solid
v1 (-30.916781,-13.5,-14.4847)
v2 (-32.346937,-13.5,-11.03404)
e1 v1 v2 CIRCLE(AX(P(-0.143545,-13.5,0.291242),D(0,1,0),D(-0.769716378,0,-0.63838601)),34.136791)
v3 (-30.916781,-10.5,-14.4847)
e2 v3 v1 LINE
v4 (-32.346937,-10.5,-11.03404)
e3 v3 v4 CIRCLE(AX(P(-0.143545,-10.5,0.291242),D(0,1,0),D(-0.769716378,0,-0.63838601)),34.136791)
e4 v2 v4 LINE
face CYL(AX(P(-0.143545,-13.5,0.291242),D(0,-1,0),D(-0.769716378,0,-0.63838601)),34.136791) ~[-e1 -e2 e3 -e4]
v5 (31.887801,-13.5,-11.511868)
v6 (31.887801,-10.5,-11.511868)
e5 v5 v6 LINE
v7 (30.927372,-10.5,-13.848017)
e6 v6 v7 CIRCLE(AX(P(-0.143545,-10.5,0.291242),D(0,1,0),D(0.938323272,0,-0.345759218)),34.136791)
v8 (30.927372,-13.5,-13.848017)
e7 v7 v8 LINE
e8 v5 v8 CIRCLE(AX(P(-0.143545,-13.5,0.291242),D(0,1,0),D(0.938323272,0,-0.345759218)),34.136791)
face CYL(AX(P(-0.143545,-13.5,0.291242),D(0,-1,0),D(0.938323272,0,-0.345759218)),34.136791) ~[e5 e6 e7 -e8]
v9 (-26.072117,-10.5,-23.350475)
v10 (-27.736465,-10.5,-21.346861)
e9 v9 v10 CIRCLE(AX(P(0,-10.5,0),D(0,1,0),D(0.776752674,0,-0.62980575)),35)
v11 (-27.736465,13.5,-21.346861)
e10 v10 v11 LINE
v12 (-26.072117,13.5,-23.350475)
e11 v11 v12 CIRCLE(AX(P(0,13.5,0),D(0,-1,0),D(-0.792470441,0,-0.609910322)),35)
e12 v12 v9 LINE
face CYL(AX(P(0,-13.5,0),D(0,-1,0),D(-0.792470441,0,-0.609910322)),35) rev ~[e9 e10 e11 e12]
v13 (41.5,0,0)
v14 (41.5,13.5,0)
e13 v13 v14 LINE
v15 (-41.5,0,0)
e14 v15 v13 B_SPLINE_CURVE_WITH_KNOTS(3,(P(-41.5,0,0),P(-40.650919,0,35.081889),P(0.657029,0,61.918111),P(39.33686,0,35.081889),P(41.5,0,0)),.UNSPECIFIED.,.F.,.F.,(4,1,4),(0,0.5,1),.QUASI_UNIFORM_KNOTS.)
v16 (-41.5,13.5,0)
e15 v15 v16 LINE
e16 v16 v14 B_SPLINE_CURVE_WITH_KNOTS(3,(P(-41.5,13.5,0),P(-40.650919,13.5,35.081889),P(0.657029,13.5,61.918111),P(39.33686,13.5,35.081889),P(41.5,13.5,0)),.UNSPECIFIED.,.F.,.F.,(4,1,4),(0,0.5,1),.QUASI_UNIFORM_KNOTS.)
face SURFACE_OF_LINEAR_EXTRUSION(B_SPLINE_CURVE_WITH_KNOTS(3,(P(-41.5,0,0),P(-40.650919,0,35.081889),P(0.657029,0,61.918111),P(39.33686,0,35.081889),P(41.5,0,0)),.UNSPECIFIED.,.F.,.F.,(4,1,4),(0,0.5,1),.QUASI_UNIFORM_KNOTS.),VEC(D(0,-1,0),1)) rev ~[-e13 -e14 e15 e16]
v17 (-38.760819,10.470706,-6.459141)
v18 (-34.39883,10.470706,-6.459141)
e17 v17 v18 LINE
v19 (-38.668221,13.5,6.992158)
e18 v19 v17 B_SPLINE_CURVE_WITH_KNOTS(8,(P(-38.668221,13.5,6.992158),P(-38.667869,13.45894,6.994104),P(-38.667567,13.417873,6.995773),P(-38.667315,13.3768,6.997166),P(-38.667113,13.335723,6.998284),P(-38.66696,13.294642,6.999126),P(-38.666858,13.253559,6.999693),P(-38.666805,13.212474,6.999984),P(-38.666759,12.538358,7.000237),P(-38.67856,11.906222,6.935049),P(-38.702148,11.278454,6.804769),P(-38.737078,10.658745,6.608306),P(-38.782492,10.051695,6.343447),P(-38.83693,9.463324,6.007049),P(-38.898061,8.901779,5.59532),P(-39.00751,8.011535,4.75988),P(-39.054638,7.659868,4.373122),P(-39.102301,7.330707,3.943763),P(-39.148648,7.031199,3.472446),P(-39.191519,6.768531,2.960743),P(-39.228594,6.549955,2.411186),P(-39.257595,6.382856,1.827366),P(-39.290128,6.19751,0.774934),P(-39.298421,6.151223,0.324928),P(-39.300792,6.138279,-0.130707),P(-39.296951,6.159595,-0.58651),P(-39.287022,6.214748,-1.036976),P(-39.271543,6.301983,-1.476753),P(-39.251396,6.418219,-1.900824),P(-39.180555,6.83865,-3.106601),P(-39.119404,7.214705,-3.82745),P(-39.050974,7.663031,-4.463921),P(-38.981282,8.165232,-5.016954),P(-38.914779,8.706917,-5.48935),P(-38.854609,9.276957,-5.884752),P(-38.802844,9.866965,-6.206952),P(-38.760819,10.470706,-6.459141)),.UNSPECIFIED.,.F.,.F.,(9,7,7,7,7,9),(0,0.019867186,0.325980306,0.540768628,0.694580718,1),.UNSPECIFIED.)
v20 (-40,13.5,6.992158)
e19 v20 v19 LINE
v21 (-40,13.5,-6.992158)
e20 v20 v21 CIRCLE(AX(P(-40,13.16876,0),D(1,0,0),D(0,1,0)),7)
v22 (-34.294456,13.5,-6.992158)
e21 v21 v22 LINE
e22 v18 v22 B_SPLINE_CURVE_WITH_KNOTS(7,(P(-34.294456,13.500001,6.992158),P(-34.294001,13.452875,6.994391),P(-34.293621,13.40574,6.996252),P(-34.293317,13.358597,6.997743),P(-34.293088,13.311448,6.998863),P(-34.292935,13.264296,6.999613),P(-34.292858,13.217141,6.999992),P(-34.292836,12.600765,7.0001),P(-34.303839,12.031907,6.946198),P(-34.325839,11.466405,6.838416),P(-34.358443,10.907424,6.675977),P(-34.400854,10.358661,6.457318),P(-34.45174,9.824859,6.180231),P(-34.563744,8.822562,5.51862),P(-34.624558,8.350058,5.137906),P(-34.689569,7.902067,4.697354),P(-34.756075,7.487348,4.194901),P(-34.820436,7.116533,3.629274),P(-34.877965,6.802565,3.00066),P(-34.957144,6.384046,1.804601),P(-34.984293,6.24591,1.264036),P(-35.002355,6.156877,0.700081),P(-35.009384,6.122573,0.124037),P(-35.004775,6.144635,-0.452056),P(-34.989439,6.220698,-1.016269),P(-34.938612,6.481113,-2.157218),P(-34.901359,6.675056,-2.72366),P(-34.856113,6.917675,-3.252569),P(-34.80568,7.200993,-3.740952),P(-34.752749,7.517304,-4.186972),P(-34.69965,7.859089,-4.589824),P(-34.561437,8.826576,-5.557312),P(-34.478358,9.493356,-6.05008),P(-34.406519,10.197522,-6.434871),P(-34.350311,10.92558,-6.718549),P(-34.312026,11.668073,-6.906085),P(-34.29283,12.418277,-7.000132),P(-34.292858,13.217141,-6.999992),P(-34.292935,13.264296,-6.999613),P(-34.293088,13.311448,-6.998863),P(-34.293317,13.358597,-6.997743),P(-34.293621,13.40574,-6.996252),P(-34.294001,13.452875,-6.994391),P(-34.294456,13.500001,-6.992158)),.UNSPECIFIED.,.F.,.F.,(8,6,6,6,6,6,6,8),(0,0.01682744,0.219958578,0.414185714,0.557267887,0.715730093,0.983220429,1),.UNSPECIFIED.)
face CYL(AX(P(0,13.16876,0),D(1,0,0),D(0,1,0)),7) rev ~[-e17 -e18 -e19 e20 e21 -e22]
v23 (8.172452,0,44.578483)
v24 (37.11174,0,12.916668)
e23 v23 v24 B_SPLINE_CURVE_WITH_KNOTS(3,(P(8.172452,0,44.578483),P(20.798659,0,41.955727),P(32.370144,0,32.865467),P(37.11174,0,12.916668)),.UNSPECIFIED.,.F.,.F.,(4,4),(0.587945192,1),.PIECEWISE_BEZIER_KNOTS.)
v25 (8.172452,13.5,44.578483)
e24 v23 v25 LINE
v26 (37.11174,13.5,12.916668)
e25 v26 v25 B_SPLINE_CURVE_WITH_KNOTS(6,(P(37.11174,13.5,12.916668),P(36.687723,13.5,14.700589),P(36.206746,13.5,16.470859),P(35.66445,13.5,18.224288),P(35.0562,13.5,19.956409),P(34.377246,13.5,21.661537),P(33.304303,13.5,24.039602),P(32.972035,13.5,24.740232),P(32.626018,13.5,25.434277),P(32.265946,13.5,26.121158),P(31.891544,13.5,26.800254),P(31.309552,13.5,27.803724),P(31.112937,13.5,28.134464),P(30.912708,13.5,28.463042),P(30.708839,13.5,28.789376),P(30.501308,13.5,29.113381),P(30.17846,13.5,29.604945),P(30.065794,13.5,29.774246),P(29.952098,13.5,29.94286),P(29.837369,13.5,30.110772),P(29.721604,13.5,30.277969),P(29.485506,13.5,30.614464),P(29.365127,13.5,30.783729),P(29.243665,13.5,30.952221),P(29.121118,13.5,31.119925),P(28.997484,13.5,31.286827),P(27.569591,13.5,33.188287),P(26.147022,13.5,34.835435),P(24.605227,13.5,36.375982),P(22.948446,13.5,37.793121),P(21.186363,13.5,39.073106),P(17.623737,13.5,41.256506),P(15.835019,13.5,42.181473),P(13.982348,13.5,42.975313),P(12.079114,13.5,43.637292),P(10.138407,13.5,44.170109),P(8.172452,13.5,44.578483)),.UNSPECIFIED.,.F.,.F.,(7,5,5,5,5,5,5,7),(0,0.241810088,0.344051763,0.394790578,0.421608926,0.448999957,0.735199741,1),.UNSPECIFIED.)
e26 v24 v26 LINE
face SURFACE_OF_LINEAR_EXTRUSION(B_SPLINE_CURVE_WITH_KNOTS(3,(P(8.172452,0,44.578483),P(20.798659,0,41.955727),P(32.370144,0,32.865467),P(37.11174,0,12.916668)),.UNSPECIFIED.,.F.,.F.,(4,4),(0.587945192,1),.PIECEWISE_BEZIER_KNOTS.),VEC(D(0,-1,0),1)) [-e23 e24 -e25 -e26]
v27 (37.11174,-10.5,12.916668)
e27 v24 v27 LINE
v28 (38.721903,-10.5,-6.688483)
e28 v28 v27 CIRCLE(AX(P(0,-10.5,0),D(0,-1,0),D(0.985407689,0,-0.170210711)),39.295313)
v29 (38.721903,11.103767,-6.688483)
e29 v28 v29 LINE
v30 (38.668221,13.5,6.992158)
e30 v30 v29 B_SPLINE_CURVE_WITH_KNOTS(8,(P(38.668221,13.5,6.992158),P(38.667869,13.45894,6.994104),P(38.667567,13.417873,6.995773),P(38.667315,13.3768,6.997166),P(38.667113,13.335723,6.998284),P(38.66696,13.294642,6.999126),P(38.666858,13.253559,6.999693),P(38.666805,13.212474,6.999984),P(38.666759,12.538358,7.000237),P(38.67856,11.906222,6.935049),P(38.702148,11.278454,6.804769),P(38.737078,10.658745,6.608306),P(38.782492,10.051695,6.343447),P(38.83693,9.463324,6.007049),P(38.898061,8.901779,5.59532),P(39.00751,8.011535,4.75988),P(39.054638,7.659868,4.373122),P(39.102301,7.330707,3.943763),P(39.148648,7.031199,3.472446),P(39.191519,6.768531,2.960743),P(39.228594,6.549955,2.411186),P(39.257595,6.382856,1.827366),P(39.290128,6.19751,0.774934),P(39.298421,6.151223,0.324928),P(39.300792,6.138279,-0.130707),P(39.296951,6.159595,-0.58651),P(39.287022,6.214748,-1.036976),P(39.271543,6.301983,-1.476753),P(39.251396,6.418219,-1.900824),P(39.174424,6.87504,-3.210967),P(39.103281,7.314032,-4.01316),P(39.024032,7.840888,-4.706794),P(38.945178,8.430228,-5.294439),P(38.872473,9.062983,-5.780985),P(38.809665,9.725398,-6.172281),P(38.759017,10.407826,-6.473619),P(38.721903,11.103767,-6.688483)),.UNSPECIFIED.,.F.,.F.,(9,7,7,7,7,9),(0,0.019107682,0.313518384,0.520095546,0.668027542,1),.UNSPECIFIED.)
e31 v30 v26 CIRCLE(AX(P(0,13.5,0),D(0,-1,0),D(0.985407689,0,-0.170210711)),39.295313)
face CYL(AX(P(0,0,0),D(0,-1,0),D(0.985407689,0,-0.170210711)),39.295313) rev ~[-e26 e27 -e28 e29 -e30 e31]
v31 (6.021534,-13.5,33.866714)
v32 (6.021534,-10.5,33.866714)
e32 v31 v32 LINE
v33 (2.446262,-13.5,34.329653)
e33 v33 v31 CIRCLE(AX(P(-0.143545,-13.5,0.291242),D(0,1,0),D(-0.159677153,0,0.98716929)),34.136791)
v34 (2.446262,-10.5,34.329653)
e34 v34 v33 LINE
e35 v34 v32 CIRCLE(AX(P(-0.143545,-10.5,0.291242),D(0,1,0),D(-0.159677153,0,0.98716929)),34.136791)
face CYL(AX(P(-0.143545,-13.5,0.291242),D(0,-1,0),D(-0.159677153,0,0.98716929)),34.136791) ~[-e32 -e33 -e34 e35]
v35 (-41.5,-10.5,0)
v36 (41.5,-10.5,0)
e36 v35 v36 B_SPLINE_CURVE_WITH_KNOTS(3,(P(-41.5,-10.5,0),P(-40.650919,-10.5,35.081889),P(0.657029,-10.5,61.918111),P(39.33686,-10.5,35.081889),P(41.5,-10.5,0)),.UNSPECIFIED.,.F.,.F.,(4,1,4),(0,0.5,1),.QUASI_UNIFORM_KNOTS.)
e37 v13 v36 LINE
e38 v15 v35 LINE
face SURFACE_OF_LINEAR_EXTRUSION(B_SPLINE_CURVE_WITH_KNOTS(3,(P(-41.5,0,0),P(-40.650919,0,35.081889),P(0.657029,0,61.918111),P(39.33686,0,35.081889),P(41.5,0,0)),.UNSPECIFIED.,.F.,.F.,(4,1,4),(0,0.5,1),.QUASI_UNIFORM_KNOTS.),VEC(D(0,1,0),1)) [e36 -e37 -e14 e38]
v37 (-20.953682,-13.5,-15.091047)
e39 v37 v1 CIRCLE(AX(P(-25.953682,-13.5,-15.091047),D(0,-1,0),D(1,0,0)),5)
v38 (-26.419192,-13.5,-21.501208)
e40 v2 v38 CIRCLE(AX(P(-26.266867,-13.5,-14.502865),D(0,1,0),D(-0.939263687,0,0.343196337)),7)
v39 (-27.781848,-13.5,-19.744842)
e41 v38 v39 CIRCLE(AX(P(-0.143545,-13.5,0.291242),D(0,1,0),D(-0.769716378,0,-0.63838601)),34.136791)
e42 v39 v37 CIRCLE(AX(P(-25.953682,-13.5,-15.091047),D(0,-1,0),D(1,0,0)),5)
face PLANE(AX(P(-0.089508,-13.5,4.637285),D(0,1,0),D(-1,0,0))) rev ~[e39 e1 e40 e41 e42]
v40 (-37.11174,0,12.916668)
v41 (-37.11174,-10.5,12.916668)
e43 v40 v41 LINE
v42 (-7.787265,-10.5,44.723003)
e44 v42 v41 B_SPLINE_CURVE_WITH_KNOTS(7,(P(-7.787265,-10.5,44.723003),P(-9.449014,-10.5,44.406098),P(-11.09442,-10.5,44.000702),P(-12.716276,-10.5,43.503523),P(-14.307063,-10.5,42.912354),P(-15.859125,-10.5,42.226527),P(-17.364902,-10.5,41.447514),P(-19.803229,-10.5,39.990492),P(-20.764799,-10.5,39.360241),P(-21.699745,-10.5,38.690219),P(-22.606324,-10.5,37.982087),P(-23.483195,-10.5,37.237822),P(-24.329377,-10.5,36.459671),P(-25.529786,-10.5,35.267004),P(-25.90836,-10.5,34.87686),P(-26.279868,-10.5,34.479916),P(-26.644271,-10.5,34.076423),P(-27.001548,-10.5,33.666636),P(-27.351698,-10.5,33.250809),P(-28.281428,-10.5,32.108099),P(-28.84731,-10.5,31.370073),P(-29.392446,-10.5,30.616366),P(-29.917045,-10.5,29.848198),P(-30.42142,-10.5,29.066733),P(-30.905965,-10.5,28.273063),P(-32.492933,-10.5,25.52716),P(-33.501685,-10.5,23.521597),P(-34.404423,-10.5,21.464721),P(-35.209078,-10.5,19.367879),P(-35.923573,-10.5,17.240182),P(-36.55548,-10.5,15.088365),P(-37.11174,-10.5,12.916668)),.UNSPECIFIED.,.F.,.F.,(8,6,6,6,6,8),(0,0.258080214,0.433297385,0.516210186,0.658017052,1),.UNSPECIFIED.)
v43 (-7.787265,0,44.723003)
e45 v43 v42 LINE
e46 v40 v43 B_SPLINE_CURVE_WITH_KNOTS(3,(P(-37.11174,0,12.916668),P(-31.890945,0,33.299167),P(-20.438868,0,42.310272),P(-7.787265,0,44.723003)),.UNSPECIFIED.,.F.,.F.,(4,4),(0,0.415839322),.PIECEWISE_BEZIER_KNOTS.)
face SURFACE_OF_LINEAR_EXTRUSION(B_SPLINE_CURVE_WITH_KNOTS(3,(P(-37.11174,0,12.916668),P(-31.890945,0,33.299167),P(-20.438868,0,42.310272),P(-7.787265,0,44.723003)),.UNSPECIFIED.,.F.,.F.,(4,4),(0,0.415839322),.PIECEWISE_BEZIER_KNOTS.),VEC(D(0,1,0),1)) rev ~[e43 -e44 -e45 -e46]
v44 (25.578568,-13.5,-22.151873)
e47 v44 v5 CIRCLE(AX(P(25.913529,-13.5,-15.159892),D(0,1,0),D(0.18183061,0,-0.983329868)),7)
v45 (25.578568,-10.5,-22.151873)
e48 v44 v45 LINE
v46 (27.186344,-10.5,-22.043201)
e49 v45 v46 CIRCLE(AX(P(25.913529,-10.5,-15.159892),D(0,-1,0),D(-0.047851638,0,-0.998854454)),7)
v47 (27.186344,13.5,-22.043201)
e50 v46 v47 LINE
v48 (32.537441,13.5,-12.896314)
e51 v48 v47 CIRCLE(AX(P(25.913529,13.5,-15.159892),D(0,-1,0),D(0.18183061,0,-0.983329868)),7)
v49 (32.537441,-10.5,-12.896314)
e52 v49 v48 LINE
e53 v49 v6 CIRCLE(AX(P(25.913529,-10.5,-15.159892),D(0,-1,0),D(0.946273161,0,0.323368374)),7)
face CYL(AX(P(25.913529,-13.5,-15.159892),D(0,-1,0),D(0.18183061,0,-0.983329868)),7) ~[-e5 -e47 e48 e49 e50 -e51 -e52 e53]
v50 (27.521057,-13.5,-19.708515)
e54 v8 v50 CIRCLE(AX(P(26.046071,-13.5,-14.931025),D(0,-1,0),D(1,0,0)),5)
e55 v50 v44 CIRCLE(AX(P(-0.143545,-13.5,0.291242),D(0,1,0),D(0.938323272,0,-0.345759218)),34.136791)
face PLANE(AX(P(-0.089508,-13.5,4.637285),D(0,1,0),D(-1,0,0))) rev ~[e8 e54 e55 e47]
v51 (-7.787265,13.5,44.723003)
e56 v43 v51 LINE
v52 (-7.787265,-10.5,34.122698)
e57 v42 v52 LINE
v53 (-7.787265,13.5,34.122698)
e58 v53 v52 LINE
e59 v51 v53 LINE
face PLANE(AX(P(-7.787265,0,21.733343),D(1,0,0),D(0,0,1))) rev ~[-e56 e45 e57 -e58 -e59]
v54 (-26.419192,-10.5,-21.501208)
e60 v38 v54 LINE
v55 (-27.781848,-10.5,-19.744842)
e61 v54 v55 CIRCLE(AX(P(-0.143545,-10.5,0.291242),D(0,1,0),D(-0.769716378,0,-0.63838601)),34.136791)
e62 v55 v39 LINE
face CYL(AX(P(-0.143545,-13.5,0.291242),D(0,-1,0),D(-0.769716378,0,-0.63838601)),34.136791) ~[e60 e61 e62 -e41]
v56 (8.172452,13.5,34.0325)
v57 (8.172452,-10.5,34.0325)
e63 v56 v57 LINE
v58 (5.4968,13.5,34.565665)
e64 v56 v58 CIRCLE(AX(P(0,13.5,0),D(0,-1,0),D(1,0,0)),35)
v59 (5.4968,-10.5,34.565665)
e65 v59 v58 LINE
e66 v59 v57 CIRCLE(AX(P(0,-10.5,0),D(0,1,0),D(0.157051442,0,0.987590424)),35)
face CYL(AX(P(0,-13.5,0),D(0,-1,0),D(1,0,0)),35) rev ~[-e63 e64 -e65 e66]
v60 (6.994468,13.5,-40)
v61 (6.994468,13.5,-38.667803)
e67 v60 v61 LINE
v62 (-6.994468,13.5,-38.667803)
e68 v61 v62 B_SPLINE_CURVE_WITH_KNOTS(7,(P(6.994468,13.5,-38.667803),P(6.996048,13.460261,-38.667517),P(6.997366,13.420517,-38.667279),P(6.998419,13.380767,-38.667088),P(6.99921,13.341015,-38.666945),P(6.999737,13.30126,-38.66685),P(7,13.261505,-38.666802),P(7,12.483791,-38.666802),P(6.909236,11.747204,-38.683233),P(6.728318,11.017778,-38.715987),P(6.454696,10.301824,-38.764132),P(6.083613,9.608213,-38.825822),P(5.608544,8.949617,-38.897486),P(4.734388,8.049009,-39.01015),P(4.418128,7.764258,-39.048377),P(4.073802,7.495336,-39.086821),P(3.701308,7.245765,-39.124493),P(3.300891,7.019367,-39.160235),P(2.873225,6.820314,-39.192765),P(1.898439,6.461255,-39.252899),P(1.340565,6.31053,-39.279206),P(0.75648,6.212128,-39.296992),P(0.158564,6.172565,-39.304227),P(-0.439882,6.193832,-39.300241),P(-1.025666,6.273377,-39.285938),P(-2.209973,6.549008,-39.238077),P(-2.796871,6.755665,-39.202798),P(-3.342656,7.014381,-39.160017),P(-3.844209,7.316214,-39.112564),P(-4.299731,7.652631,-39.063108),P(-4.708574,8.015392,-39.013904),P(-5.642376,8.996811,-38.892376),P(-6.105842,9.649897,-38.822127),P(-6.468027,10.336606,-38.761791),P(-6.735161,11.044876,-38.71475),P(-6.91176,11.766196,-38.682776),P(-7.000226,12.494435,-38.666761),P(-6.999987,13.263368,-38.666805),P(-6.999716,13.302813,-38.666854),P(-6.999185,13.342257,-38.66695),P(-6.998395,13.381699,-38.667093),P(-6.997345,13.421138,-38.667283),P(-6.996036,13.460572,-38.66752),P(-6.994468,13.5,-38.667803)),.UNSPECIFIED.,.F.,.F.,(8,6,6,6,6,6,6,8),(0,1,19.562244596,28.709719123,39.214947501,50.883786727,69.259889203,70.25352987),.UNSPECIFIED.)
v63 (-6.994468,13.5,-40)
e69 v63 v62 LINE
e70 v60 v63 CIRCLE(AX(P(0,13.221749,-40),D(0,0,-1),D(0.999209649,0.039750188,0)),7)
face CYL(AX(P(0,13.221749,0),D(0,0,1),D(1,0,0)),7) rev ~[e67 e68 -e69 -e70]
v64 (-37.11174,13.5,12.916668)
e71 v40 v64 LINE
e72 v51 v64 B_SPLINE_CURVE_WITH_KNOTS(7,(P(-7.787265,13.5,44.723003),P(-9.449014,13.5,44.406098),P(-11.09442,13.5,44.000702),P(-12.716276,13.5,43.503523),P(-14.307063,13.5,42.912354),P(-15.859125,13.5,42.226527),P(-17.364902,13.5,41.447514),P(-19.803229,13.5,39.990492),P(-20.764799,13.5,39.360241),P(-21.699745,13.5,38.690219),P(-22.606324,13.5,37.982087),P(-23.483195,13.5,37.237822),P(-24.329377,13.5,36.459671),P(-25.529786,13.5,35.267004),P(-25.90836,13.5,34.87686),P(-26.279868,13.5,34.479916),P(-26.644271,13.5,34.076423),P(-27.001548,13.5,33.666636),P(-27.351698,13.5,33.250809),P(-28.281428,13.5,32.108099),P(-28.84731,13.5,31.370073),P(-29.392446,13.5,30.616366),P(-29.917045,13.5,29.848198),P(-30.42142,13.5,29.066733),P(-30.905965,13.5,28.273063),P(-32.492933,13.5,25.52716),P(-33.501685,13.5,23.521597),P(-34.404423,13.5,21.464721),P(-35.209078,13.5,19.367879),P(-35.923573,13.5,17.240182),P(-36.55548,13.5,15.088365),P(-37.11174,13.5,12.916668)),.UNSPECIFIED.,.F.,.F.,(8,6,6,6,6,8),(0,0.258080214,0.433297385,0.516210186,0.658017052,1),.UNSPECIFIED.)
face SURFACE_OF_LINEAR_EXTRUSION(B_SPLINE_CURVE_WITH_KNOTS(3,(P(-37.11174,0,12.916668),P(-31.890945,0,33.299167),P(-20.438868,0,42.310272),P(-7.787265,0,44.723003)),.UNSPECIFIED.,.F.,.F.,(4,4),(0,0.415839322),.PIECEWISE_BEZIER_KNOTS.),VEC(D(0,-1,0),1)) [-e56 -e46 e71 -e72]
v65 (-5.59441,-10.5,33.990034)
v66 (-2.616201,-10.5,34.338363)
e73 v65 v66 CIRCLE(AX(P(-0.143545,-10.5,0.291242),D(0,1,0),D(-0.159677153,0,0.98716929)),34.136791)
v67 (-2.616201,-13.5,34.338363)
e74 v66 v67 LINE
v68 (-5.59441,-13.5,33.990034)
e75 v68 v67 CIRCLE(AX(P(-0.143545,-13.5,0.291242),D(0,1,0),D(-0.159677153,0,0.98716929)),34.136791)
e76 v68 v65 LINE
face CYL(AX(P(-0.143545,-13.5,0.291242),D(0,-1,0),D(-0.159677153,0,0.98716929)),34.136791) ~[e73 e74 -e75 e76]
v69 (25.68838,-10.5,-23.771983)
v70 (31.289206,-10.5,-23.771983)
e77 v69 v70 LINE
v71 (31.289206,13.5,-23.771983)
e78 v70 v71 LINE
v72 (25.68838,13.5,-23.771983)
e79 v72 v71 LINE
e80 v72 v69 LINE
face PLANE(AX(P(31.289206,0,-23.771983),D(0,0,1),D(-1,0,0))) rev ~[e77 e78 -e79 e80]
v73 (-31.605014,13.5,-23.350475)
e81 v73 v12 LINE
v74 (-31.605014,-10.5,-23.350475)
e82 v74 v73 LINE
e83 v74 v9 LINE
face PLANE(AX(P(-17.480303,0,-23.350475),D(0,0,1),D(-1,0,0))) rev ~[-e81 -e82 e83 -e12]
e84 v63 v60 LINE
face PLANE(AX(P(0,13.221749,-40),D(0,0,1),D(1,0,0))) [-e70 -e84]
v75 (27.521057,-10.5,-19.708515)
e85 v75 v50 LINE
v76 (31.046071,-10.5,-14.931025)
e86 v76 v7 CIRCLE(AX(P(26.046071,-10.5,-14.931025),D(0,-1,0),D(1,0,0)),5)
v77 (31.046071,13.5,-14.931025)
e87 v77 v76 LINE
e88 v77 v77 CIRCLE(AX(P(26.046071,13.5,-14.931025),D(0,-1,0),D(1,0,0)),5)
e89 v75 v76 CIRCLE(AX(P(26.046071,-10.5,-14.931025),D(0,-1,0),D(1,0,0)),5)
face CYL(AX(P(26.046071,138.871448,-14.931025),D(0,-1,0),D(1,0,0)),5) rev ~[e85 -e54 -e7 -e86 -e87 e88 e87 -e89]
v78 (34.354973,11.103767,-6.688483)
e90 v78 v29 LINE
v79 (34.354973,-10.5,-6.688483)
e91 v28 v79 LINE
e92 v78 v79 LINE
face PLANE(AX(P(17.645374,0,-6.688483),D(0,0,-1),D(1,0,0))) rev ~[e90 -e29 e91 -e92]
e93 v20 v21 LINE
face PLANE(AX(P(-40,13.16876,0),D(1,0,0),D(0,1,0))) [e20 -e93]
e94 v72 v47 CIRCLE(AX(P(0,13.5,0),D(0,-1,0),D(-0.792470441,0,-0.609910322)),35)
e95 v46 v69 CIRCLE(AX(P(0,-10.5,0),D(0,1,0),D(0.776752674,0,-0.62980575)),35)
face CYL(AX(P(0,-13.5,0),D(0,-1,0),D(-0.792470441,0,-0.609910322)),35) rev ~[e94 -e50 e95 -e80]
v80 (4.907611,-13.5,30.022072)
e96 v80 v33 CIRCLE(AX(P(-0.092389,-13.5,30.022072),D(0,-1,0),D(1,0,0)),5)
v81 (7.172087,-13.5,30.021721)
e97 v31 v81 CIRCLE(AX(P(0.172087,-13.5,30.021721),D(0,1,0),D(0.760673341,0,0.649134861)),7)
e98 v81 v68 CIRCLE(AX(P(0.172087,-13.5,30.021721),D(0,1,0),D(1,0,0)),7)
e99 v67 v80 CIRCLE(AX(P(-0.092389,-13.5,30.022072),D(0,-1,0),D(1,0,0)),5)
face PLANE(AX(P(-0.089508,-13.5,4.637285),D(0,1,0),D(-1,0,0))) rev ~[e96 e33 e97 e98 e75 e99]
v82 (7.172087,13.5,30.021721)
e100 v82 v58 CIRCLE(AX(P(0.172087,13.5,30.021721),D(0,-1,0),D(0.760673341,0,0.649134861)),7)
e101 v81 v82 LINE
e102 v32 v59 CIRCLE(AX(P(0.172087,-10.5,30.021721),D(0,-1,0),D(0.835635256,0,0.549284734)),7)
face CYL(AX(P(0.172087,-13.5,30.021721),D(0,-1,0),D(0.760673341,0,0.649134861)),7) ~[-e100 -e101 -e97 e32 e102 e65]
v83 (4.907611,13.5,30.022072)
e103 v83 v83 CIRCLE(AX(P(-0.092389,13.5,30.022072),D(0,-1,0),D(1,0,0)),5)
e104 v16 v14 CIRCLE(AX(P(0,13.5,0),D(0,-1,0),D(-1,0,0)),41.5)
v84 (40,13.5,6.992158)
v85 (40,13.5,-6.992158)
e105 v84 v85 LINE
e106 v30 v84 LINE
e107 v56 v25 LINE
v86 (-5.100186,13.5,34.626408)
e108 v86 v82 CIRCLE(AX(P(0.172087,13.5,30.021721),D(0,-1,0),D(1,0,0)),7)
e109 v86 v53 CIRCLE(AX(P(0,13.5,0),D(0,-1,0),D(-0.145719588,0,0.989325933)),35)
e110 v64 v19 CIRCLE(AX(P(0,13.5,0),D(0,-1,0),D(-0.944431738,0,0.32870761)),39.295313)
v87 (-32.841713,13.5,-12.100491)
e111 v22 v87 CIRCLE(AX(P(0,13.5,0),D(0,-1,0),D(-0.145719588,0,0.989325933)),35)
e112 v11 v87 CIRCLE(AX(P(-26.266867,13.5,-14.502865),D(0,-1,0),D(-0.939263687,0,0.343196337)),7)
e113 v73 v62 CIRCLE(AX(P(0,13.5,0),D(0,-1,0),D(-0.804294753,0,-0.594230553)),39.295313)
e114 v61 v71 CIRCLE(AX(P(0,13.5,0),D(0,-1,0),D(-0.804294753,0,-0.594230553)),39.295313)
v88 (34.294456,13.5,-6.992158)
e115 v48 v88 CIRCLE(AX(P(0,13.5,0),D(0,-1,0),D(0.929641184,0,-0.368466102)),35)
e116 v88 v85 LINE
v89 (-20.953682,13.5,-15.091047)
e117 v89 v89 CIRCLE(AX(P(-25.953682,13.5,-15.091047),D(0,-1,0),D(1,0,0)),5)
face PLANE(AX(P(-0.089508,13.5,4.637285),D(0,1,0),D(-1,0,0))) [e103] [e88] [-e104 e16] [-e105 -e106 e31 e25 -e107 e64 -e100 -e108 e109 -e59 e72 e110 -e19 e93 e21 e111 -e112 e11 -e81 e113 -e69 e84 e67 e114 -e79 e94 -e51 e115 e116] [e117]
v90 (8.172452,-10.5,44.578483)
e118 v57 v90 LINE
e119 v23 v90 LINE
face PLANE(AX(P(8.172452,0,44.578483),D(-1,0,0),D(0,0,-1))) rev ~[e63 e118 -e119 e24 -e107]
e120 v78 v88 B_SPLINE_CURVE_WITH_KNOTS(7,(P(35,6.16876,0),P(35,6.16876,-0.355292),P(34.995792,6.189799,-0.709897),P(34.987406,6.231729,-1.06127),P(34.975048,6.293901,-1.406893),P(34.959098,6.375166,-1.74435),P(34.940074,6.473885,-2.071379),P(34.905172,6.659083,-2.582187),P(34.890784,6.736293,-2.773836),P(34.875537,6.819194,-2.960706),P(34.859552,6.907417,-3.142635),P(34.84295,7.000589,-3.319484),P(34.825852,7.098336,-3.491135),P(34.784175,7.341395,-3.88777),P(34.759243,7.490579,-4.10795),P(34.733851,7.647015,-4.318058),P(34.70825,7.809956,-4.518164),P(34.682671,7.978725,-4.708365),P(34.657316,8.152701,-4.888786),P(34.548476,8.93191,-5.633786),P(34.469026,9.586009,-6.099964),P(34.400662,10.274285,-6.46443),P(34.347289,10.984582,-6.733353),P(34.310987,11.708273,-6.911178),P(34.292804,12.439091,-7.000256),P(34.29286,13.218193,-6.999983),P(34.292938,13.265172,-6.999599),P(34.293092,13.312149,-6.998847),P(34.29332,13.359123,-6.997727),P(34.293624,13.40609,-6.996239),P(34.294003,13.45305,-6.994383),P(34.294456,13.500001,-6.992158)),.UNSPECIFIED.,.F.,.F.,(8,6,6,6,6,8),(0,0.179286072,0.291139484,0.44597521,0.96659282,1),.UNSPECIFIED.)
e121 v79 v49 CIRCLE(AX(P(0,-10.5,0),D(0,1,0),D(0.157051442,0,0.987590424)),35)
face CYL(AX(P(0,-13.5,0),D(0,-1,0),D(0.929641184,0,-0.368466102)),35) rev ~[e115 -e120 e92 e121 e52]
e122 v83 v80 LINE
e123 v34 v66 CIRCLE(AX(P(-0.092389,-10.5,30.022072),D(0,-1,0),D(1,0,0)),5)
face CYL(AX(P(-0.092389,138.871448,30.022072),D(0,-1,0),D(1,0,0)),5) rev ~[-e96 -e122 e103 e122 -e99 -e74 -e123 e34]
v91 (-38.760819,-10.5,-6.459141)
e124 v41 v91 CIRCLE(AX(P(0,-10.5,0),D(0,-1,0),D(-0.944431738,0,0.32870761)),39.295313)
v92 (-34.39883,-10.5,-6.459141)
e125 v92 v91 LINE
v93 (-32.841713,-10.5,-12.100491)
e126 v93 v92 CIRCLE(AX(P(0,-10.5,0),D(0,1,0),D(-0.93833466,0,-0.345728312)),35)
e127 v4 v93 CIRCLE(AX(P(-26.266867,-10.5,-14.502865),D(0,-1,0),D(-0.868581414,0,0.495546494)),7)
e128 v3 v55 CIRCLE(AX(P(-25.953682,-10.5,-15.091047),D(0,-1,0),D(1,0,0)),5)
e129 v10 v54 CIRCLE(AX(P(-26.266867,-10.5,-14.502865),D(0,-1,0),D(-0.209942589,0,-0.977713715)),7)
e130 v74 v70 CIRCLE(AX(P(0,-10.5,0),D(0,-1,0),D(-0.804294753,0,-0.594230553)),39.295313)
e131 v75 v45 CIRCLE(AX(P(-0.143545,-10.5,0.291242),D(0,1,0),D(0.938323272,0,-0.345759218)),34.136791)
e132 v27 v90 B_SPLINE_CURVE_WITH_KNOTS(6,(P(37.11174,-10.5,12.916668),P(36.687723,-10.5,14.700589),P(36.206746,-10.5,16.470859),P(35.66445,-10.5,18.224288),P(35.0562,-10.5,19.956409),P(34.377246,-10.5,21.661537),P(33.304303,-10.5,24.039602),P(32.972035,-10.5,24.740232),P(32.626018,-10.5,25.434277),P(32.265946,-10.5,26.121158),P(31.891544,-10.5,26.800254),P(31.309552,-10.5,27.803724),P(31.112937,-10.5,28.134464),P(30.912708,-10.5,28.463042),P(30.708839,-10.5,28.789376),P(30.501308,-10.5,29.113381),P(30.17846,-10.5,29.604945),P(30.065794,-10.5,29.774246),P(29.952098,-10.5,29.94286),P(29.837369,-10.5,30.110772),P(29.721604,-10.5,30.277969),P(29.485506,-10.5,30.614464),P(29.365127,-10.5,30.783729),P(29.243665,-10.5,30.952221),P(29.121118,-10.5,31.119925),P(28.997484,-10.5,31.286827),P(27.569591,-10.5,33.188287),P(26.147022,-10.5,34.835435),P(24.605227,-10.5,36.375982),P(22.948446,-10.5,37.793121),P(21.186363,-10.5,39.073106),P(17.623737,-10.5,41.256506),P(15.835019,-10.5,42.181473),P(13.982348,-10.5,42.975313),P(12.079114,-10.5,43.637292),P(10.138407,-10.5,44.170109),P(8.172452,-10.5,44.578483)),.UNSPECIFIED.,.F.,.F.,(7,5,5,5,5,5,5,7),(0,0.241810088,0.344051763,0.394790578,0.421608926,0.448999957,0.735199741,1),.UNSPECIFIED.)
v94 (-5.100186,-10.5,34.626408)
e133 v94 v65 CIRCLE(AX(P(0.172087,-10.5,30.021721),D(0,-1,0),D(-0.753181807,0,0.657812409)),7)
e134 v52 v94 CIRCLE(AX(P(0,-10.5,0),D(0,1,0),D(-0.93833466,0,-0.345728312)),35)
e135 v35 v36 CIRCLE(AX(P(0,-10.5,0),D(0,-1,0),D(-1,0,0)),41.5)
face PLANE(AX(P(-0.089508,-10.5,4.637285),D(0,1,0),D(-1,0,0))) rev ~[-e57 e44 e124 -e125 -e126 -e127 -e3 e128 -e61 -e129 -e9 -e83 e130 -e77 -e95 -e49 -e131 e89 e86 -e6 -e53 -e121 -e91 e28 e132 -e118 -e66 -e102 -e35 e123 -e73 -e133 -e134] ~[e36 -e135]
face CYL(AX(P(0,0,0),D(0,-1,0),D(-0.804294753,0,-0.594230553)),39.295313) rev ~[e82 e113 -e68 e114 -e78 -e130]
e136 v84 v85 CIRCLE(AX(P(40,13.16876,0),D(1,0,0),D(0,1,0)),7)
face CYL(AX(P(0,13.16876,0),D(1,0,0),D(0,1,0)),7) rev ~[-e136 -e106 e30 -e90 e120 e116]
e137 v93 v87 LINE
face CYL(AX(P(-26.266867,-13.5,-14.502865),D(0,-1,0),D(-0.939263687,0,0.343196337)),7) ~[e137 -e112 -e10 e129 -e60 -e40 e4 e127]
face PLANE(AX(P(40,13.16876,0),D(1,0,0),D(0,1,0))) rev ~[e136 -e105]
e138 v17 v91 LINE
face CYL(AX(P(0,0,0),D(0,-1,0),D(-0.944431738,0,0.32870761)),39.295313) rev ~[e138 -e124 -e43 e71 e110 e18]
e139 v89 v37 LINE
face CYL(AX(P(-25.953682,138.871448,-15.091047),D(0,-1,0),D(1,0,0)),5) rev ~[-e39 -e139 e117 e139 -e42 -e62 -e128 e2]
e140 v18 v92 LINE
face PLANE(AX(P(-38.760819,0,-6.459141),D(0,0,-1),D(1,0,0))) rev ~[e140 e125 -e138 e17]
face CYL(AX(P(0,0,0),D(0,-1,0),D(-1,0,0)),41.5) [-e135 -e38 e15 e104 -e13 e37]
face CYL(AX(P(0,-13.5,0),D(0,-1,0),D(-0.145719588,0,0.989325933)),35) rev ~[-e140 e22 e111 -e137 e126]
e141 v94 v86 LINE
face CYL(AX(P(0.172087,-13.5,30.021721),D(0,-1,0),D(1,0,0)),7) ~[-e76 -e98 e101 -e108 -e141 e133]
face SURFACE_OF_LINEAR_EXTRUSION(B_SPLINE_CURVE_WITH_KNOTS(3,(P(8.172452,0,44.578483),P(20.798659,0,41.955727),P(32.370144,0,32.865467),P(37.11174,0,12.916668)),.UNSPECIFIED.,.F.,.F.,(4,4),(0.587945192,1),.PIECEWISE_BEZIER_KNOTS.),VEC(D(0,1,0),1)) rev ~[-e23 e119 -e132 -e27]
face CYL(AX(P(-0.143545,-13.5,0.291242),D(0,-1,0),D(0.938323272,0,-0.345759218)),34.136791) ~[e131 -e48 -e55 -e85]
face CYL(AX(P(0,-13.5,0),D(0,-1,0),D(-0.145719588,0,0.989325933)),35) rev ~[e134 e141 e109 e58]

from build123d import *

# Parameters (mm, degrees)
F1_DEPTH  = 13.5
F3_DEPTH  = 30
F5_DEPTH  = 3
F7_D      = 10
F8_R      = 7
F9_DEPTH  = 40
F10_R     = 7
F11_DEPTH = 40
F13_DEPTH = 45


with BuildPart() as f1:
    # F0 (on Front) → F1 (new body, symmetric)
    with BuildSketch(Plane.XZ):
        with BuildLine():
            add(Edge.make_bspline(
                [(-41.5, 0), (-40.6509190798, 35.0818894804), (0.6570294499, 61.9181105196), (39.3368601799, 35.0818894804), (41.5, 0)],
                knots=[0, 0, 0, 0, 0.5, 1, 1, 1, 1], degree=3))
            ThreePointArc((-41.5, 0), (0, -41.5), (41.5, 0))
        make_face()
    extrude(amount=F1_DEPTH, both=True)

    # F2 (on face) → F3 (cut)
    with BuildSketch(Plane.XZ.offset(13.5)):
        with BuildLine():
            ThreePointArc((32.5374414571, -12.8963135596), (34.3788485191, -6.5646610347), (35, 0))
            ThreePointArc((35, 0), (26.6213074089, 22.7223676548), (5.4968004663, 34.5656648227))
            ThreePointArc((5.4968004663, 34.5656648227), (6.7399251447, 32.4431879402), (7.1720870792, 30.021720793))
            ThreePointArc((7.1720870792, 30.021720793), (-2.286987081, 23.4678704533), (-5.1001855708, 34.6264076558))
            ThreePointArc((-5.1001855708, 34.6264076558), (-30.0956422284, 17.8676332753), (-32.8417131072, -12.1004909067))
            ThreePointArc((-32.8417131072, -12.1004909067), (-25.0470149854, -7.6099732464), (-19.2668672949, -14.5028652623))
            ThreePointArc((-19.2668672949, -14.5028652623), (-21.8672756585, -19.947458308), (-27.7364654185, -21.3468612702))
            ThreePointArc((-27.7364654185, -21.3468612702), (-0.4437125722, -34.9971873035), (27.186343602, -22.0432012547))
            ThreePointArc((27.186343602, -22.0432012547), (19.8715130661, -11.6252013242), (32.5374414571, -12.8963135596))
        make_face()
    extrude(amount=-F3_DEPTH, mode=Mode.SUBTRACT)

    # F4 (on face) → F5 (cut)
    with BuildSketch(Plane.XZ.offset(13.5)):
        with BuildLine():
            add(Edge.make_bspline(
                [(-41.5, 0), (-40.6509190798, 35.0818894804), (0.6570294499, 61.9181105196), (39.3368601799, 35.0818894804), (41.5, 0)],
                knots=[0, 0, 0, 0, 0.5, 1, 1, 1, 1], degree=3))
            ThreePointArc((-41.5, 0), (0, -41.5), (41.5, 0))
        make_face()
        with BuildLine():
            ThreePointArc((-5.5944102498, 33.9900338545), (0.2188459884, 34.4261095338), (6.02153387, 33.8667139323))
            ThreePointArc((6.02153387, 33.8667139323), (5.7700864546, 34.2243869697), (5.4968004663, 34.5656648227))
            ThreePointArc((5.4968004663, 34.5656648227), (30.4107010386, 17.3259707474), (32.5374414571, -12.8963135596))
            ThreePointArc((32.5374414571, -12.8963135596), (32.2505420404, -12.1862967222), (31.8878008438, -11.5118680686))
            ThreePointArc((31.8878008438, -11.5118680686), (29.2191511765, -17.1200357859), (25.5785678665, -22.1518733584))
            ThreePointArc((25.5785678665, -22.1518733584), (26.3855932866, -22.1439565844), (27.186343602, -22.0432012547))
            ThreePointArc((27.186343602, -22.0432012547), (-0.4437125722, -34.9971873035), (-27.7364654185, -21.3468612702))
            ThreePointArc((-27.7364654185, -21.3468612702), (-27.0814923312, -21.4553026803), (-26.4191917867, -21.5012077267))
            ThreePointArc((-26.4191917867, -21.5012077267), (-29.8477517846, -16.5307845373), (-32.3469371921, -11.0340398062))
            ThreePointArc((-32.3469371921, -11.0340398062), (-32.6167533089, -11.5568598976), (-32.8417131072, -12.1004909067))
            ThreePointArc((-32.8417131072, -12.1004909067), (-30.0956422284, 17.8676332753), (-5.1001855708, 34.6264076558))
            ThreePointArc((-5.1001855708, 34.6264076558), (-5.3564618775, 34.3153377337), (-5.5944102498, 33.9900338545))
        make_face(mode=Mode.SUBTRACT)
    extrude(amount=-F5_DEPTH, mode=Mode.SUBTRACT)

    # F7 (through all)
    with Locations(Plane(origin=(0, 13.5, 0), x_dir=(-1, 0, 0), z_dir=(0, 1, 0))):
        with Locations((0.0923887911, 30.0220718413), (-26.0460712844, -14.9310248805), (25.9536824933, -15.0910469608)):
            Hole(F7_D / 2)

    # F8 (on Top) → F9 (cut)
    with BuildSketch(Plane.XY):
        with Locations((0, 13.2217486843)):
            Circle(F8_R)
    extrude(amount=-F9_DEPTH, mode=Mode.SUBTRACT)

    # F10 (on Right) → F11 (cut, symmetric)
    with BuildSketch(Plane.YZ):
        with Locations((13.1687597471, 0)):
            Circle(F10_R)
    extrude(amount=F11_DEPTH, both=True, mode=Mode.SUBTRACT)

    # F12 (on Front) → F13 (cut, symmetric)
    with BuildSketch(Plane.XZ):
        with BuildLine():
            add(Edge.make_bspline(
                [(-37.1117404138, 12.9166683182), (-31.8909446924, 33.2991668752), (-20.4388675878, 42.310272007), (-7.7872653969, 44.7230026175)],
                knots=[0, 0, 0, 0, 0.415839322, 0.415839322, 0.415839322, 0.415839322], degree=3))
            ThreePointArc((-37.1117404138, 12.9166683182), (-39.1537586618, 3.332383477), (-38.7608190529, -6.4591410676))
            Line((-38.7608190529, -6.4591410676), (-17.4803026021, -6.4591410676))
            Line((-17.4803026021, -6.4591410676), (-17.4803026021, -23.350475356))
            Line((-17.4803026021, -23.350475356), (-31.6050138053, -23.350475356))
            ThreePointArc((-31.6050138053, -23.350475356), (-0.2633451611, -39.2944302199), (31.2892064192, -23.77198264))
            Line((31.2892064192, -23.77198264), (17.6453739405, -23.77198264))
            Line((17.6453739405, -23.77198264), (17.6453739405, -6.6884830925))
            Line((17.6453739405, -6.6884830925), (38.7219032449, -6.6884830925))
            ThreePointArc((38.7219032449, -6.6884830925), (39.1634506664, 3.2164777144), (37.1117404138, 12.9166683182))
            add(Edge.make_bspline(
                [(8.172452372, 44.5784830349), (20.7986586816, 41.9557269194), (32.3701441874, 32.8654666183), (37.1117404138, 12.9166683182)],
                knots=[0.5879451924, 0.5879451924, 0.5879451924, 0.5879451924, 1, 1, 1, 1], degree=3))
            Line((8.172452372, 44.5784830349), (8.172452372, 21.7333426662))
            Line((8.172452372, 21.7333426662), (-7.7872653969, 21.7333426662))
            Line((-7.7872653969, 21.7333426662), (-7.7872653969, 44.7230026175))
        make_face()
    extrude(amount=F13_DEPTH, both=True, mode=Mode.SUBTRACT)


solid = f1.part
